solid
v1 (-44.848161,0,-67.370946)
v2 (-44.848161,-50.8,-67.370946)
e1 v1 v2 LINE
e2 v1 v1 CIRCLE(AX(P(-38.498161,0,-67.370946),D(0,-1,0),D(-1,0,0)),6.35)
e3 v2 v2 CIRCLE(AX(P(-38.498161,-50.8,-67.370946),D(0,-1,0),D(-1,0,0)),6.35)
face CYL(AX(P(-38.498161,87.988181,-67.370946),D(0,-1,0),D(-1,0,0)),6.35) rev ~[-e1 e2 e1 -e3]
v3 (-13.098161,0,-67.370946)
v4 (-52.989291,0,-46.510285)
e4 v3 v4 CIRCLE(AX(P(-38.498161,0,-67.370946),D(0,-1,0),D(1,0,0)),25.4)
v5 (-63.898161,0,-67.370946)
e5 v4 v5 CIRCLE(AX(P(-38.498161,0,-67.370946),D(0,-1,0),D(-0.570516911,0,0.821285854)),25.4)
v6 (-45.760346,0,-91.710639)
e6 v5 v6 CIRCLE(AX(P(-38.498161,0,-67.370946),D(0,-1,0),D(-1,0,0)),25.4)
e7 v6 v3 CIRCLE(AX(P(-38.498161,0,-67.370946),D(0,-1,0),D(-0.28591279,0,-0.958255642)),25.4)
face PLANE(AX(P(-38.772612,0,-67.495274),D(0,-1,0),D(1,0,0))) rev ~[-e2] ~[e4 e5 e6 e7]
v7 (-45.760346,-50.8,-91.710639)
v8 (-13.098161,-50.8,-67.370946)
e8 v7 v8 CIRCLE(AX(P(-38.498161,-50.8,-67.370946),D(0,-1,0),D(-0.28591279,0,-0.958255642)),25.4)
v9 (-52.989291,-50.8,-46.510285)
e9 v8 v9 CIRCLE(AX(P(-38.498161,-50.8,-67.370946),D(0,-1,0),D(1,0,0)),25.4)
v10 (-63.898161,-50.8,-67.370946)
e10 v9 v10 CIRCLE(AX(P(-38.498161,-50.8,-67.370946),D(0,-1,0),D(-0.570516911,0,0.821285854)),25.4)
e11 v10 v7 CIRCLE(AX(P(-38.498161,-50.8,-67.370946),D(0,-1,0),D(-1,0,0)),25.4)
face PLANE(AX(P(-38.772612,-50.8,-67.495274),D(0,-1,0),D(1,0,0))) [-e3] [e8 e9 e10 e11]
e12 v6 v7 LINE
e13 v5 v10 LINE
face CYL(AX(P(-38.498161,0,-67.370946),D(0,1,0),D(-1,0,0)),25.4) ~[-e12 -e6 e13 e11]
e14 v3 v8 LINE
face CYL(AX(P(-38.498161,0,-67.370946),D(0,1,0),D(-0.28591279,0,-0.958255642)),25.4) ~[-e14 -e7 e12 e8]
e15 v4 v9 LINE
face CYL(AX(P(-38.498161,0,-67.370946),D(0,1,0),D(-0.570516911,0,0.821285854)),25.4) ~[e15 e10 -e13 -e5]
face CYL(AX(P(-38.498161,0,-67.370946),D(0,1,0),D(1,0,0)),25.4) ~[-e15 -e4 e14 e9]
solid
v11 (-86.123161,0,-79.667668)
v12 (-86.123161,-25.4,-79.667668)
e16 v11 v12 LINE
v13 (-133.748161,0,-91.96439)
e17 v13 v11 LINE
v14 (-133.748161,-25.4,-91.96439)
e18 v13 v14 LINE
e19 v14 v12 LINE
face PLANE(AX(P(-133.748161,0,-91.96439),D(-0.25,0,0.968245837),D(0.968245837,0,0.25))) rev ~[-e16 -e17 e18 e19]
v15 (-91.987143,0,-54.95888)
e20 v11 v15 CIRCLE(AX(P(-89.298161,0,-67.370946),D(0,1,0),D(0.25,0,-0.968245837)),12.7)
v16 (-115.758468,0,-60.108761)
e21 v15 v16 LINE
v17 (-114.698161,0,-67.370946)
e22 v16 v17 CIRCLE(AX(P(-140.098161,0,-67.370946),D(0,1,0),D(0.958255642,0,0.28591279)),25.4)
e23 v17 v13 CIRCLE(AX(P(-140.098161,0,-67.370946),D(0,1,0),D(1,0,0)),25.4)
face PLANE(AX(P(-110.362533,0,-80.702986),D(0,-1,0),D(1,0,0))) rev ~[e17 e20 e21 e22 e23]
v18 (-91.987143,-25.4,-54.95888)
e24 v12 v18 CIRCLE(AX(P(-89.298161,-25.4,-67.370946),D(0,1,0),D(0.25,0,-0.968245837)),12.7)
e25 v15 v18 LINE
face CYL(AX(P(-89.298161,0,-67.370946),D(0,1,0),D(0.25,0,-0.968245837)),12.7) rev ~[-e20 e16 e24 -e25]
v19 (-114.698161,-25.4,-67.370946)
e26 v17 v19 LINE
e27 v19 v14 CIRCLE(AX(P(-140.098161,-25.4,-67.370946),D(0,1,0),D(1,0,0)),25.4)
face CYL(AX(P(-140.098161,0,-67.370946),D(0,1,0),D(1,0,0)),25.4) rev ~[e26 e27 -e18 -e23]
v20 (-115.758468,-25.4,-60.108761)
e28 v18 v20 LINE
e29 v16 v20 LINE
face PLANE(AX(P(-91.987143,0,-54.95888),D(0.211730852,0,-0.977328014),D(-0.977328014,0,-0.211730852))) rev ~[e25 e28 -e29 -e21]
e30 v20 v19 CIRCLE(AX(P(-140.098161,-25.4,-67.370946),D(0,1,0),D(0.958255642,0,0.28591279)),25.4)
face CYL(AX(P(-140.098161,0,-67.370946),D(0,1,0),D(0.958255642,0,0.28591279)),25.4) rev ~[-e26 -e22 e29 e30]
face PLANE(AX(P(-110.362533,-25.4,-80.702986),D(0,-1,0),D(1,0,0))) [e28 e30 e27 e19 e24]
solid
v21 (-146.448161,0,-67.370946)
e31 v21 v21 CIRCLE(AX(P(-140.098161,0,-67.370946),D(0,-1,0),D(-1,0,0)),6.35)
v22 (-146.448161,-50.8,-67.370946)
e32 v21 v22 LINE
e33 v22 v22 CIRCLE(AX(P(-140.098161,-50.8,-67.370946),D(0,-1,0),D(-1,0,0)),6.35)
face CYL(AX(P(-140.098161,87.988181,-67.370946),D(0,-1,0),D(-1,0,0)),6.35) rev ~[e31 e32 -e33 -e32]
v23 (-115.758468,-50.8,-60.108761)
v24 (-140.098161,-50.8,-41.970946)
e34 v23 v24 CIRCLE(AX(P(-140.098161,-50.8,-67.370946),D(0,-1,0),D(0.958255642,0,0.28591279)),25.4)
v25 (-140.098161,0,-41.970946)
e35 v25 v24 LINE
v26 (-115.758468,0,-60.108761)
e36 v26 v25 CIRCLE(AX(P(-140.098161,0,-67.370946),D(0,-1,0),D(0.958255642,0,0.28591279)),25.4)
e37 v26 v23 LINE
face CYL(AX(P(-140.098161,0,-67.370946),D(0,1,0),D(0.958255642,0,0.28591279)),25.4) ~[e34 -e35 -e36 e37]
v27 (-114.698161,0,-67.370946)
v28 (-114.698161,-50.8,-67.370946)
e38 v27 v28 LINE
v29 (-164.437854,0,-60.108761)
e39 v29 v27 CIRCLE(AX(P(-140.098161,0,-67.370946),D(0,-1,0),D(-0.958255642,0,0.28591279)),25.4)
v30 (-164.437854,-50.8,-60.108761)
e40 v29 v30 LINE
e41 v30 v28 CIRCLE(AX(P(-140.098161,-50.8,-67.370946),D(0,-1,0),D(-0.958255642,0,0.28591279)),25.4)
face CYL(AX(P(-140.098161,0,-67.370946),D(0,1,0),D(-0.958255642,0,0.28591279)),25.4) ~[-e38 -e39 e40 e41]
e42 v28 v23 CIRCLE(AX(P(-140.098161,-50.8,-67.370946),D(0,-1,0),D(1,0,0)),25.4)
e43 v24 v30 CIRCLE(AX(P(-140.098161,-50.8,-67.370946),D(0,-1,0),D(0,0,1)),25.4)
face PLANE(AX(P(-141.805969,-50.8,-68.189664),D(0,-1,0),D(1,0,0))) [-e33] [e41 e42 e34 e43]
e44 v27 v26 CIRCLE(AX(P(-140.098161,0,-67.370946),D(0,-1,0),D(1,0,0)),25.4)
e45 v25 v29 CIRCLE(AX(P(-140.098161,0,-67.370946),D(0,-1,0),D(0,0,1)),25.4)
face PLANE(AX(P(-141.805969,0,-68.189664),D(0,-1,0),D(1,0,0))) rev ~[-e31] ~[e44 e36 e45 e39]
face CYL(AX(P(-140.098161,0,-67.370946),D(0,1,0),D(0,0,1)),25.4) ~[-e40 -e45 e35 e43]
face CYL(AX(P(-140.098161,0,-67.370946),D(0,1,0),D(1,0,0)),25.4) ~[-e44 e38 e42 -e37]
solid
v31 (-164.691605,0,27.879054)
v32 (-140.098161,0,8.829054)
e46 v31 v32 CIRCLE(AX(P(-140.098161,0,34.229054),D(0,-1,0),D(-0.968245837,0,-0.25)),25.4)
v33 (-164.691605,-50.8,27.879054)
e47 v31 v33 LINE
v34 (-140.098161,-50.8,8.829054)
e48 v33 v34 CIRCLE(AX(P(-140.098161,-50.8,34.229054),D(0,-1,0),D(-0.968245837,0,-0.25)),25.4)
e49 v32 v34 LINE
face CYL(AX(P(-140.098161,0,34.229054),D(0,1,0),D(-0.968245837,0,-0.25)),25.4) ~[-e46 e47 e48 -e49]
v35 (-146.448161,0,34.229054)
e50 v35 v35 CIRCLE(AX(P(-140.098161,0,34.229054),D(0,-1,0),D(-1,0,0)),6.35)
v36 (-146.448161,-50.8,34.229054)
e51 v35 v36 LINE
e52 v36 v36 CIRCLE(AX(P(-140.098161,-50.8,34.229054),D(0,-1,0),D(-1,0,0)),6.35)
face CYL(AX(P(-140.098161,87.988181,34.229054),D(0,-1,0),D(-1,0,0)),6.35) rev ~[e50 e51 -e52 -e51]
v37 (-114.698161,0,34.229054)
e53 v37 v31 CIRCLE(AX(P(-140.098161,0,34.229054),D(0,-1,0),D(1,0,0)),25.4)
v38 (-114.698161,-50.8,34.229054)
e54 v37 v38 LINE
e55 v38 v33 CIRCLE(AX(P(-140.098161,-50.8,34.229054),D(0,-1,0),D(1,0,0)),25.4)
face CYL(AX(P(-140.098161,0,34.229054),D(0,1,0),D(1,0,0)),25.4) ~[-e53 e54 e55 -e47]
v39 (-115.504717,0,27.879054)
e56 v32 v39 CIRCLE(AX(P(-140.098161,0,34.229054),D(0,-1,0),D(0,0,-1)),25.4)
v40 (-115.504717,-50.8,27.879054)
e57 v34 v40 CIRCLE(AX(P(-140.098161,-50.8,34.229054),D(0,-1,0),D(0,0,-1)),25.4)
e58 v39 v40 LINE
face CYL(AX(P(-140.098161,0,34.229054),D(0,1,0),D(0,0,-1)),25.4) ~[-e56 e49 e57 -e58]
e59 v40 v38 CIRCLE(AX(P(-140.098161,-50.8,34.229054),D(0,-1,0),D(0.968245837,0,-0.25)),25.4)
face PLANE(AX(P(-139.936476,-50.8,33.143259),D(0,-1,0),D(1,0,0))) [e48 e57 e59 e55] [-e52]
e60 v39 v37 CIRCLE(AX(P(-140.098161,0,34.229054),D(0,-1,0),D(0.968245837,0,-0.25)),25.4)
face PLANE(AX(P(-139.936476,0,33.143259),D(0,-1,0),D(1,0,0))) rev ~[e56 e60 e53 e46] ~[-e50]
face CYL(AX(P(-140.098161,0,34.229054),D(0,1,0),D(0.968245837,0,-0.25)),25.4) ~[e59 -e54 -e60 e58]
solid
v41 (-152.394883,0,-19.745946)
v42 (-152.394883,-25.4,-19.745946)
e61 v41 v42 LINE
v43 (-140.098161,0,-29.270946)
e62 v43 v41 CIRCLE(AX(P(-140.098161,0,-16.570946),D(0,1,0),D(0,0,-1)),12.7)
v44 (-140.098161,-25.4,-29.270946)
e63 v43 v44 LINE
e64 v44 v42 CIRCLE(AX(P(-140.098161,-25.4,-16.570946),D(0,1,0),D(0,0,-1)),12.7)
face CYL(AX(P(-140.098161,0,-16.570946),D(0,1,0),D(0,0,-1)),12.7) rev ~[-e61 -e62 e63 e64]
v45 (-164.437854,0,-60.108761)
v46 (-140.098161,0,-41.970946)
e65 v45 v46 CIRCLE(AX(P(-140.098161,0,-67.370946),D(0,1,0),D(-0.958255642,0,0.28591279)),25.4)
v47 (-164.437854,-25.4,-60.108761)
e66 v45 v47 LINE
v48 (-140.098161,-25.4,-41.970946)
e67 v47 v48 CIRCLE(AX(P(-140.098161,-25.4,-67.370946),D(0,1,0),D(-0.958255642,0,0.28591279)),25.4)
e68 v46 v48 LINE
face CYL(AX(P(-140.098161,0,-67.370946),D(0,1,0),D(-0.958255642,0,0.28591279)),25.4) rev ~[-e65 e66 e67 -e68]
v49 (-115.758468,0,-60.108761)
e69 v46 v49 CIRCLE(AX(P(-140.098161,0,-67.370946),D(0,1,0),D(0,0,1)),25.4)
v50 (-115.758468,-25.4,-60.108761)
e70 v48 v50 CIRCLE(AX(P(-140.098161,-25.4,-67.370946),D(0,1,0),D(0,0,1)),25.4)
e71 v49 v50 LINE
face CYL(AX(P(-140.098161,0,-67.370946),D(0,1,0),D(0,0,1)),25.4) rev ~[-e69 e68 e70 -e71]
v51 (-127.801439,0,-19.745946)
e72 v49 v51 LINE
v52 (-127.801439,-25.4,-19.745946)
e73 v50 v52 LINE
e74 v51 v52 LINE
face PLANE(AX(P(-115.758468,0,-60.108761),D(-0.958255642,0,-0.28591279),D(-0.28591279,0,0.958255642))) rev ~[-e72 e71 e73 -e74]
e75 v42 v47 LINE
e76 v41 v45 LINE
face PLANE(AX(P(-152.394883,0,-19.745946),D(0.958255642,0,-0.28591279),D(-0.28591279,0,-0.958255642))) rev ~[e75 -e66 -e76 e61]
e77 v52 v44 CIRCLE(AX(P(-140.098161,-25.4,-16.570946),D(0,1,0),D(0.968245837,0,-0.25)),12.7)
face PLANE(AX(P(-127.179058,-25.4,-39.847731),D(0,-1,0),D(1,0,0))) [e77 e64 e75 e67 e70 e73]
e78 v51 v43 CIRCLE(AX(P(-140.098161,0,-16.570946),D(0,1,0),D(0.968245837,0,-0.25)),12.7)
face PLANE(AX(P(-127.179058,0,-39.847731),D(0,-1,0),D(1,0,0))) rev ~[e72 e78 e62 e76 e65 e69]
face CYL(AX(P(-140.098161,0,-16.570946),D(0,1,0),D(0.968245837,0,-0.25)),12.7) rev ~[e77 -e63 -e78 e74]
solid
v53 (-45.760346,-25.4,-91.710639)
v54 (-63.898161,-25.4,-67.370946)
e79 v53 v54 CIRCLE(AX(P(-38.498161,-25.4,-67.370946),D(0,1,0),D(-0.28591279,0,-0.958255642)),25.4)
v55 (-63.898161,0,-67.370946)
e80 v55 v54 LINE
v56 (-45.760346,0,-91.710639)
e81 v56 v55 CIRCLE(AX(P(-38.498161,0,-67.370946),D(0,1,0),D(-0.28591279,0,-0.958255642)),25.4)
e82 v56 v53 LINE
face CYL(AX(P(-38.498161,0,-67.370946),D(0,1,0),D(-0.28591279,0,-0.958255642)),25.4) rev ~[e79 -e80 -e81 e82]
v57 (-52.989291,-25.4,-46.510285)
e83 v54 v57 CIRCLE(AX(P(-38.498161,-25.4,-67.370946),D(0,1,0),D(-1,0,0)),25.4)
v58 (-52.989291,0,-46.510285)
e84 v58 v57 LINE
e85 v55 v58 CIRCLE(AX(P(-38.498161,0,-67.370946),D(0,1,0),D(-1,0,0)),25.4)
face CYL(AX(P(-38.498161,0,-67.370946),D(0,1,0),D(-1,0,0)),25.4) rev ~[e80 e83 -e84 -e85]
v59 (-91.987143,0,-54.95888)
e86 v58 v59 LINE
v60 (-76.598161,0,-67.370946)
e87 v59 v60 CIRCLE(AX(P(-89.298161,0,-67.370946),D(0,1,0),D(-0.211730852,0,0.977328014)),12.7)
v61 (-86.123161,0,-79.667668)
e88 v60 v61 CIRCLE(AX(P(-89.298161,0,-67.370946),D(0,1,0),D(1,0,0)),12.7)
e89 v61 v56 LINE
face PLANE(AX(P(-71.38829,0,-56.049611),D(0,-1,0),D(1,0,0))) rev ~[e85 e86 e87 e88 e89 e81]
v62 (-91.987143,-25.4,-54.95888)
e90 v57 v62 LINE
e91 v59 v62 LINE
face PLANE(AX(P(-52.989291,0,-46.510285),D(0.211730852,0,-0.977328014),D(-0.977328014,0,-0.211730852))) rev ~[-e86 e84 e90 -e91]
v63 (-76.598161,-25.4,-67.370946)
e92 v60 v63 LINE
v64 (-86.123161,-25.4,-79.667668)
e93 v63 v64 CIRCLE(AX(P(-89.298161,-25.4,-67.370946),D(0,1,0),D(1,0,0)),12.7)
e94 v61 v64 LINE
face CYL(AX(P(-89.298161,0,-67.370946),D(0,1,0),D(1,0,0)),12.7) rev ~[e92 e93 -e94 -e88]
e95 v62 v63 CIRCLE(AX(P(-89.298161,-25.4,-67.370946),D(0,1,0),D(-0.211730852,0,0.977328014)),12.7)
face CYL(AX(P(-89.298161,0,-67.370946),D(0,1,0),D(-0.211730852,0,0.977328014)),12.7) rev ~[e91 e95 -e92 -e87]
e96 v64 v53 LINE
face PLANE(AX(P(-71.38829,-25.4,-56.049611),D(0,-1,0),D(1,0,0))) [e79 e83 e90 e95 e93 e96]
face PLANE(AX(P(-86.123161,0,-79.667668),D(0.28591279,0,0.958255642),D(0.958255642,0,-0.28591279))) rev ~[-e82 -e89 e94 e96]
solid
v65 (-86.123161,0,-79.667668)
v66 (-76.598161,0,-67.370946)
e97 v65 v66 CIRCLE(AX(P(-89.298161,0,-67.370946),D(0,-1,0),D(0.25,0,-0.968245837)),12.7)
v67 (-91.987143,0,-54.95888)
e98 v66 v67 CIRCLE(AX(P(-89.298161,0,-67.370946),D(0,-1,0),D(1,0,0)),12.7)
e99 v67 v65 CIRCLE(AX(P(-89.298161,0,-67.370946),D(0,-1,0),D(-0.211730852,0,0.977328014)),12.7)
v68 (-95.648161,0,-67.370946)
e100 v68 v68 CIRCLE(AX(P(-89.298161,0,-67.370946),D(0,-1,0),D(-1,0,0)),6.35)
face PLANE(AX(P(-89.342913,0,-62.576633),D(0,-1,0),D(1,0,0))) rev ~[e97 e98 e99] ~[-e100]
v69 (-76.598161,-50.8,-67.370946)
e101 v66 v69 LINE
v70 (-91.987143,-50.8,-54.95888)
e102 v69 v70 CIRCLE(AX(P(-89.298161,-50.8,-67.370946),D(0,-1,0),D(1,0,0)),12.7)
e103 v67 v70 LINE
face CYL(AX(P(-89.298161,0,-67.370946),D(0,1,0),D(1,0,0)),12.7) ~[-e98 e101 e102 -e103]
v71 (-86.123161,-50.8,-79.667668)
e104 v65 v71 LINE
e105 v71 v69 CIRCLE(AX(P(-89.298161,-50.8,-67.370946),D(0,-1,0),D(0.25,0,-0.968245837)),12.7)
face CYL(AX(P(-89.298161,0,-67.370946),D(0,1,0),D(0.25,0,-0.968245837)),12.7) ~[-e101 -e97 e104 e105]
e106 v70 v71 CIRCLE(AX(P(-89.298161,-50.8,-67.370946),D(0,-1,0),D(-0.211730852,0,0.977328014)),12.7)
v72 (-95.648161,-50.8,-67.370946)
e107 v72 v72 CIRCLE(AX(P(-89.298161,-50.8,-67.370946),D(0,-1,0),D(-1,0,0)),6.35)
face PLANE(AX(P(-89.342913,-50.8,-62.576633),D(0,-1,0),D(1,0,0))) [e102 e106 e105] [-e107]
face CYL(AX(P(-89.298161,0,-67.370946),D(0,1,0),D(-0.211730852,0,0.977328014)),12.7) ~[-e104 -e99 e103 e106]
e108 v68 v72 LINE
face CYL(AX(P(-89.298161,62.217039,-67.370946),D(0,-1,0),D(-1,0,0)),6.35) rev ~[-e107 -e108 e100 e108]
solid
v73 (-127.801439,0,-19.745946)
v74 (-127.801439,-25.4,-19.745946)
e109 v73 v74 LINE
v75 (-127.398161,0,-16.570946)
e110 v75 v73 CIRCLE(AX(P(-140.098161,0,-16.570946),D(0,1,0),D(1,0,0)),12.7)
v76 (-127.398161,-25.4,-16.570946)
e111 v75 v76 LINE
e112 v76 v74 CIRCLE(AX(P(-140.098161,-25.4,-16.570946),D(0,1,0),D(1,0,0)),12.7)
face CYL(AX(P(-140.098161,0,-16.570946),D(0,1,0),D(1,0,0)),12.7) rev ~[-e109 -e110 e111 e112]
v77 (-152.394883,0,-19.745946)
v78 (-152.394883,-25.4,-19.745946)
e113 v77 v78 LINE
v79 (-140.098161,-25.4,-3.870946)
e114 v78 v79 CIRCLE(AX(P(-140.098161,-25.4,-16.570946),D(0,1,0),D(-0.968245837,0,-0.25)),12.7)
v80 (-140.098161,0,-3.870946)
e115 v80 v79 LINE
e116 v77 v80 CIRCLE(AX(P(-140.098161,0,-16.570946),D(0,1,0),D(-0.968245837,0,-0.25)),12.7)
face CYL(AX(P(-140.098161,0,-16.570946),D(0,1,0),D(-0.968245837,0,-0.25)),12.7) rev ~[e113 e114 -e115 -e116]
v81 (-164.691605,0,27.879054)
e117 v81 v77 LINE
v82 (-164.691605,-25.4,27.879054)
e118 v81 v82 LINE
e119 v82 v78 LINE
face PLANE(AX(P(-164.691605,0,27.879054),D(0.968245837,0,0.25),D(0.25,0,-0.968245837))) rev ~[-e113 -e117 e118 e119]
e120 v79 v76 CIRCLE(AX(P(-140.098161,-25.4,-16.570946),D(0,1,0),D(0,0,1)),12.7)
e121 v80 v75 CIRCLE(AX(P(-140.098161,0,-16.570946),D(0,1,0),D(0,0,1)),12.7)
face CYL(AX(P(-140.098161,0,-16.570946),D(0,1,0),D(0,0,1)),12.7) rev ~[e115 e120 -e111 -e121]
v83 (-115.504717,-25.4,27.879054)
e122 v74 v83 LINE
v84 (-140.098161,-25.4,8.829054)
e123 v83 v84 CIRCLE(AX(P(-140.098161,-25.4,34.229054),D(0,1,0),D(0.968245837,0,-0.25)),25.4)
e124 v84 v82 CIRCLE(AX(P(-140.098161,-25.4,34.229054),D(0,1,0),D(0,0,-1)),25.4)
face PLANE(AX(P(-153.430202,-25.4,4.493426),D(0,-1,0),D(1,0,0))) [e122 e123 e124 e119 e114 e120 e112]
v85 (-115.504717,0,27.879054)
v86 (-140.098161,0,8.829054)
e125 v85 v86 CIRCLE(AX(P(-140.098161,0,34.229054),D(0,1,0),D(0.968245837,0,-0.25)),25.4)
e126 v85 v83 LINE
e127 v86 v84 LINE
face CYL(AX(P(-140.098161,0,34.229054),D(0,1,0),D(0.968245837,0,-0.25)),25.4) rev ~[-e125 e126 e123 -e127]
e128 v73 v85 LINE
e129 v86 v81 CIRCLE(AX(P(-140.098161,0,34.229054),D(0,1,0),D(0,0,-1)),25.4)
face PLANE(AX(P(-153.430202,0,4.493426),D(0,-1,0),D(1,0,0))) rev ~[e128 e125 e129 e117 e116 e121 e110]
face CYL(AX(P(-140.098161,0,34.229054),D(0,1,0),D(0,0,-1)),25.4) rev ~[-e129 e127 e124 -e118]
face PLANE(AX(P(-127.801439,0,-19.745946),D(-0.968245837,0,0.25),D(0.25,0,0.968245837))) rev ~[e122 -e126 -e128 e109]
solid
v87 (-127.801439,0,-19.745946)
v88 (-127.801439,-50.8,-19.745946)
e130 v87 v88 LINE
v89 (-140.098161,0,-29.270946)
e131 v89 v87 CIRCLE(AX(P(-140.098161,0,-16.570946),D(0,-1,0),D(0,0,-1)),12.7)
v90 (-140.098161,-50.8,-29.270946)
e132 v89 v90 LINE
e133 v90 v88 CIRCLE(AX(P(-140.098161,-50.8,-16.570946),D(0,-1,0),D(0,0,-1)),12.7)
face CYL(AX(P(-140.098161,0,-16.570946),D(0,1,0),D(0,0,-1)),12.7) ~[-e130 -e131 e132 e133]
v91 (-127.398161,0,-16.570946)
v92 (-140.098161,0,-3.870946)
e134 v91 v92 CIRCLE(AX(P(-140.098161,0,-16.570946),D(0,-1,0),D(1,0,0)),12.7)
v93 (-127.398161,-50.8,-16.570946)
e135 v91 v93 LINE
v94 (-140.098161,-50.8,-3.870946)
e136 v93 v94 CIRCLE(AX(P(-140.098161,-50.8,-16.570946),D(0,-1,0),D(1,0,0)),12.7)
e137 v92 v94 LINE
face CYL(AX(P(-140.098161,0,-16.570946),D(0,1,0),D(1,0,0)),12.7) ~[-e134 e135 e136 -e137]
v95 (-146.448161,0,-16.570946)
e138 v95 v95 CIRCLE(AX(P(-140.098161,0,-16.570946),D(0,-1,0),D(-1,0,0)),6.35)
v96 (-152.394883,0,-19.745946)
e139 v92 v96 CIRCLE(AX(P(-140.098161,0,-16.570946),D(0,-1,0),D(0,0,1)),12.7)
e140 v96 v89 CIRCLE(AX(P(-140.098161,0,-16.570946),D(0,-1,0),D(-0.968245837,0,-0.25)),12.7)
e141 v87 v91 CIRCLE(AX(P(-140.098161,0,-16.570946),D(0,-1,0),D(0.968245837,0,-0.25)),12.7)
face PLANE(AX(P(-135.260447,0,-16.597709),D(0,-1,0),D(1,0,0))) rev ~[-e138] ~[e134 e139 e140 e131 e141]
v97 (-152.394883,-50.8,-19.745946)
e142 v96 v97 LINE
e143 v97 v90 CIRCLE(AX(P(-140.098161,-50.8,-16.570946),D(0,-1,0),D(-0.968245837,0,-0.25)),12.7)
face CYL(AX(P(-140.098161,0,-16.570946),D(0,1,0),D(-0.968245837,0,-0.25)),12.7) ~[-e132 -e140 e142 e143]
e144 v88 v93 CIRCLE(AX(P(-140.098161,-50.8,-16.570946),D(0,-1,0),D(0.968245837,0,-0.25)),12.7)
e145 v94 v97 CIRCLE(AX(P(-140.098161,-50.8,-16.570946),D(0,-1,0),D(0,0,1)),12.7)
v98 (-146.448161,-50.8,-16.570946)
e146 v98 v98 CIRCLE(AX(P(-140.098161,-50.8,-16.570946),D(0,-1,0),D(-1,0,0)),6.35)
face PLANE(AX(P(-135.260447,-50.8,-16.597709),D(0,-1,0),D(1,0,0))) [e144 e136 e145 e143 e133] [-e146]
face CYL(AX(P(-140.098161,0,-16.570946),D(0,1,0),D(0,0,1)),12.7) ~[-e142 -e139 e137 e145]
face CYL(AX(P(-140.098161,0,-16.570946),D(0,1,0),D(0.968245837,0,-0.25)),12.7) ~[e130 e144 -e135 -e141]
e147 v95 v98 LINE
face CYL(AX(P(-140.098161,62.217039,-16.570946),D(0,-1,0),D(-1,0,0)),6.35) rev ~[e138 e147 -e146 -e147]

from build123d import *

# Parameters (mm, degrees)
F1_DEPTH = 50.8
F2_DEPTH = 25.4
F3_D     = 12.7
F3_2_D   = 12.7
F3_3_D   = 12.7
F3_4_D   = 12.7
F3_5_D   = 12.7


with BuildPart() as f1:
    # F0 (on Front) → F1 (new body)
    with BuildSketch(Plane.XZ):
        with BuildLine():
            ThreePointArc((-140.0981609707, 8.8290543904), (-124.543901104, 14.1485912484), (-115.5047167223, 27.8790543904))
            ThreePointArc((-115.5047167223, 27.8790543904), (-114.9006066855, 31.0285453614), (-114.6981609707, 34.2290543904))
            ThreePointArc((-114.6981609707, 34.2290543904), (-143.2986699997, 59.4266086756), (-164.6916052191, 27.8790543904))
            ThreePointArc((-164.6916052191, 27.8790543904), (-155.6524208374, 14.1485912484), (-140.0981609707, 8.8290543904))
        make_face()
    extrude(amount=F1_DEPTH)

    # F3 (through all)
    with Locations(Plane(origin=(0, 0, 0), x_dir=(1, 0, 0), z_dir=(0, 1, 0))):
        with Locations((-140.0981609707, -34.2290543904), (-140.0981609707, 16.5709456096), (-140.0981609707, 67.3709456096), (-89.2981609707, 67.3709456096), (-38.4981609707, 67.3709456096)):
            Hole(F3_D / 2)


with BuildPart() as f1b:
    # F0 (on Front) → F1, piece 2 (new body)
    with BuildSketch(Plane.XZ):
        with BuildLine():
            Line((-140.0981609707, -16.5709456096), (-140.0981609707, -29.2709456096))
            ThreePointArc((-140.0981609707, -29.2709456096), (-132.3210310373, -26.6111771806), (-127.8014388465, -19.7459456096))
            ThreePointArc((-127.8014388465, -19.7459456096), (-127.4993838281, -18.1712001241), (-127.3981609707, -16.5709456096))
            ThreePointArc((-127.3981609707, -16.5709456096), (-131.1179048496, -7.5906894885), (-140.0981609707, -3.8709456096))
            Line((-140.0981609707, -3.8709456096), (-140.0981609707, -16.5709456096))
        make_face()
        with BuildLine():
            ThreePointArc((-152.3948830949, -19.7459456096), (-147.875290904, -26.6111771806), (-140.0981609707, -29.2709456096))
            Line((-140.0981609707, -29.2709456096), (-140.0981609707, -16.5709456096))
            Line((-140.0981609707, -16.5709456096), (-140.0981609707, -3.8709456096))
            ThreePointArc((-140.0981609707, -3.8709456096), (-150.1383925417, -8.7938156762), (-152.3948830949, -19.7459456096))
        make_face()
    extrude(amount=F1_DEPTH)

    # F3#2 (through all)
    with Locations(Plane(origin=(0, 0, 0), x_dir=(1, 0, 0), z_dir=(0, 1, 0))):
        with Locations((-140.0981609707, -34.2290543904), (-140.0981609707, 16.5709456096), (-140.0981609707, 67.3709456096), (-89.2981609707, 67.3709456096), (-38.4981609707, 67.3709456096)):
            Hole(F3_2_D / 2)


with BuildPart() as f1c:
    # F0 (on Front) → F1, piece 3 (new body)
    with BuildSketch(Plane.XZ):
        with BuildLine():
            Line((-114.6981609707, -67.3709456096), (-140.0981609707, -67.3709456096))
            Line((-140.0981609707, -67.3709456096), (-140.0981609707, -41.9709456096))
            ThreePointArc((-140.0981609707, -41.9709456096), (-155.2754549353, -47.0040669112), (-164.4378542892, -60.1087607345))
            ThreePointArc((-164.4378542892, -60.1087607345), (-158.3903052719, -84.9935860719), (-133.7481609707, -91.964389858))
            ThreePointArc((-133.7481609707, -91.964389858), (-120.0176978286, -82.9252054762), (-114.6981609707, -67.3709456096))
        make_face()
        with BuildLine():
            Line((-140.0981609707, -41.9709456096), (-140.0981609707, -67.3709456096))
            Line((-140.0981609707, -67.3709456096), (-114.6981609707, -67.3709456096))
            ThreePointArc((-114.6981609707, -67.3709456096), (-114.9646354491, -63.7013550528), (-115.7584676521, -60.1087607345))
            ThreePointArc((-115.7584676521, -60.1087607345), (-124.9208670061, -47.0040669112), (-140.0981609707, -41.9709456096))
        make_face()
    extrude(amount=F1_DEPTH)

    # F3#3 (through all)
    with Locations(Plane(origin=(0, 0, 0), x_dir=(1, 0, 0), z_dir=(0, 1, 0))):
        with Locations((-140.0981609707, -34.2290543904), (-140.0981609707, 16.5709456096), (-140.0981609707, 67.3709456096), (-89.2981609707, 67.3709456096), (-38.4981609707, 67.3709456096)):
            Hole(F3_3_D / 2)


with BuildPart() as f1d:
    # F0 (on Front) → F1, piece 4 (new body)
    with BuildSketch(Plane.XZ):
        with BuildLine():
            ThreePointArc((-91.9871427928, -54.9588798363), (-99.1835054043, -59.3978680714), (-101.9981609707, -67.3709456096))
            Line((-101.9981609707, -67.3709456096), (-89.2981609707, -67.3709456096))
            Line((-89.2981609707, -67.3709456096), (-76.5981609707, -67.3709456096))
            ThreePointArc((-76.5981609707, -67.3709456096), (-81.3250834325, -57.485601176), (-91.9871427928, -54.9588798363))
        make_face()
        with BuildLine():
            Line((-89.2981609707, -67.3709456096), (-101.9981609707, -67.3709456096))
            ThreePointArc((-101.9981609707, -67.3709456096), (-97.075290904, -77.4111771806), (-86.1231609707, -79.6676677338))
            ThreePointArc((-86.1231609707, -79.6676677338), (-79.2579293997, -75.1480755429), (-76.5981609707, -67.3709456096))
            Line((-76.5981609707, -67.3709456096), (-89.2981609707, -67.3709456096))
        make_face()
    extrude(amount=F1_DEPTH)

    # F3#4 (through all)
    with Locations(Plane(origin=(0, 0, 0), x_dir=(1, 0, 0), z_dir=(0, 1, 0))):
        with Locations((-140.0981609707, -34.2290543904), (-140.0981609707, 16.5709456096), (-140.0981609707, 67.3709456096), (-89.2981609707, 67.3709456096), (-38.4981609707, 67.3709456096)):
            Hole(F3_4_D / 2)


with BuildPart() as f1e:
    # F0 (on Front) → F1, piece 5 (new body)
    with BuildSketch(Plane.XZ):
        with BuildLine():
            ThreePointArc((-13.0981609707, -67.3709456096), (-26.7277465819, -44.8627838651), (-52.9892905073, -46.5102849117))
            ThreePointArc((-52.9892905073, -46.5102849117), (-61.0063227152, -55.6005312207), (-63.8981609707, -67.3709456096))
            ThreePointArc((-63.8981609707, -67.3709456096), (-58.865039669, -82.5482395741), (-45.7603458457, -91.7106389281))
            ThreePointArc((-45.7603458457, -91.7106389281), (-23.3208670061, -87.7378243079), (-13.0981609707, -67.3709456096))
        make_face()
    extrude(amount=F1_DEPTH)

    # F3#5 (through all)
    with Locations(Plane(origin=(0, 0, 0), x_dir=(1, 0, 0), z_dir=(0, 1, 0))):
        with Locations((-140.0981609707, -34.2290543904), (-140.0981609707, 16.5709456096), (-140.0981609707, 67.3709456096), (-89.2981609707, 67.3709456096), (-38.4981609707, 67.3709456096)):
            Hole(F3_5_D / 2)


with BuildPart() as f2:
    # F0 (on Front) → F2 (new body)
    with BuildSketch(Plane.XZ):
        with BuildLine():
            Line((-164.6916052191, 27.8790543904), (-152.3948830949, -19.7459456096))
            ThreePointArc((-152.3948830949, -19.7459456096), (-150.1383925417, -8.7938156762), (-140.0981609707, -3.8709456096))
            Line((-140.0981609707, -3.8709456096), (-140.0981609707, 8.8290543904))
            ThreePointArc((-140.0981609707, 8.8290543904), (-155.6524208374, 14.1485912484), (-164.6916052191, 27.8790543904))
        make_face()
        with BuildLine():
            ThreePointArc((-127.3981609707, -16.5709456096), (-127.4993838281, -18.1712001241), (-127.8014388465, -19.7459456096))
            Line((-127.8014388465, -19.7459456096), (-115.5047167223, 27.8790543904))
            ThreePointArc((-115.5047167223, 27.8790543904), (-124.543901104, 14.1485912484), (-140.0981609707, 8.8290543904))
            Line((-140.0981609707, 8.8290543904), (-140.0981609707, -3.8709456096))
            ThreePointArc((-140.0981609707, -3.8709456096), (-131.1179048496, -7.5906894885), (-127.3981609707, -16.5709456096))
        make_face()
    extrude(amount=F2_DEPTH)


with BuildPart() as f2b:
    # F0 (on Front) → F2, piece 2 (new body)
    with BuildSketch(Plane.XZ):
        with BuildLine():
            Line((-140.0981609707, -29.2709456096), (-140.0981609707, -41.9709456096))
            ThreePointArc((-140.0981609707, -41.9709456096), (-124.9208670061, -47.0040669112), (-115.7584676521, -60.1087607345))
            Line((-115.7584676521, -60.1087607345), (-127.8014388465, -19.7459456096))
            ThreePointArc((-127.8014388465, -19.7459456096), (-132.3210310373, -26.6111771806), (-140.0981609707, -29.2709456096))
        make_face()
        with BuildLine():
            ThreePointArc((-164.4378542892, -60.1087607345), (-155.2754549353, -47.0040669112), (-140.0981609707, -41.9709456096))
            Line((-140.0981609707, -41.9709456096), (-140.0981609707, -29.2709456096))
            ThreePointArc((-140.0981609707, -29.2709456096), (-147.875290904, -26.6111771806), (-152.3948830949, -19.7459456096))
            Line((-152.3948830949, -19.7459456096), (-164.4378542892, -60.1087607345))
        make_face()
    extrude(amount=F2_DEPTH)


with BuildPart() as f2c:
    # F0 (on Front) → F2, piece 3 (new body)
    with BuildSketch(Plane.XZ):
        with BuildLine():
            Line((-52.9892905073, -46.5102849117), (-91.9871427928, -54.9588798363))
            ThreePointArc((-91.9871427928, -54.9588798363), (-81.3250834325, -57.485601176), (-76.5981609707, -67.3709456096))
            Line((-76.5981609707, -67.3709456096), (-63.8981609707, -67.3709456096))
            ThreePointArc((-63.8981609707, -67.3709456096), (-61.0063227152, -55.6005312207), (-52.9892905073, -46.5102849117))
        make_face()
        with BuildLine():
            ThreePointArc((-76.5981609707, -67.3709456096), (-79.2579293997, -75.1480755429), (-86.1231609707, -79.6676677338))
            Line((-86.1231609707, -79.6676677338), (-45.7603458457, -91.7106389281))
            ThreePointArc((-45.7603458457, -91.7106389281), (-58.865039669, -82.5482395741), (-63.8981609707, -67.3709456096))
            Line((-63.8981609707, -67.3709456096), (-76.5981609707, -67.3709456096))
        make_face()
    extrude(amount=F2_DEPTH)


with BuildPart() as f2d:
    # F0 (on Front) → F2, piece 4 (new body)
    with BuildSketch(Plane.XZ):
        with BuildLine():
            Line((-101.9981609707, -67.3709456096), (-114.6981609707, -67.3709456096))
            ThreePointArc((-114.6981609707, -67.3709456096), (-120.0176978286, -82.9252054762), (-133.7481609707, -91.964389858))
            Line((-133.7481609707, -91.964389858), (-86.1231609707, -79.6676677338))
            ThreePointArc((-86.1231609707, -79.6676677338), (-97.075290904, -77.4111771806), (-101.9981609707, -67.3709456096))
        make_face()
        with BuildLine():
            ThreePointArc((-115.7584676521, -60.1087607345), (-114.9646354491, -63.7013550528), (-114.6981609707, -67.3709456096))
            Line((-114.6981609707, -67.3709456096), (-101.9981609707, -67.3709456096))
            ThreePointArc((-101.9981609707, -67.3709456096), (-99.1835054043, -59.3978680714), (-91.9871427928, -54.9588798363))
            Line((-91.9871427928, -54.9588798363), (-115.7584676521, -60.1087607345))
        make_face()
    extrude(amount=F2_DEPTH)


solid = Compound([f1.part, f1b.part, f1c.part, f1d.part, f1e.part, f2.part, f2b.part, f2c.part, f2d.part])
